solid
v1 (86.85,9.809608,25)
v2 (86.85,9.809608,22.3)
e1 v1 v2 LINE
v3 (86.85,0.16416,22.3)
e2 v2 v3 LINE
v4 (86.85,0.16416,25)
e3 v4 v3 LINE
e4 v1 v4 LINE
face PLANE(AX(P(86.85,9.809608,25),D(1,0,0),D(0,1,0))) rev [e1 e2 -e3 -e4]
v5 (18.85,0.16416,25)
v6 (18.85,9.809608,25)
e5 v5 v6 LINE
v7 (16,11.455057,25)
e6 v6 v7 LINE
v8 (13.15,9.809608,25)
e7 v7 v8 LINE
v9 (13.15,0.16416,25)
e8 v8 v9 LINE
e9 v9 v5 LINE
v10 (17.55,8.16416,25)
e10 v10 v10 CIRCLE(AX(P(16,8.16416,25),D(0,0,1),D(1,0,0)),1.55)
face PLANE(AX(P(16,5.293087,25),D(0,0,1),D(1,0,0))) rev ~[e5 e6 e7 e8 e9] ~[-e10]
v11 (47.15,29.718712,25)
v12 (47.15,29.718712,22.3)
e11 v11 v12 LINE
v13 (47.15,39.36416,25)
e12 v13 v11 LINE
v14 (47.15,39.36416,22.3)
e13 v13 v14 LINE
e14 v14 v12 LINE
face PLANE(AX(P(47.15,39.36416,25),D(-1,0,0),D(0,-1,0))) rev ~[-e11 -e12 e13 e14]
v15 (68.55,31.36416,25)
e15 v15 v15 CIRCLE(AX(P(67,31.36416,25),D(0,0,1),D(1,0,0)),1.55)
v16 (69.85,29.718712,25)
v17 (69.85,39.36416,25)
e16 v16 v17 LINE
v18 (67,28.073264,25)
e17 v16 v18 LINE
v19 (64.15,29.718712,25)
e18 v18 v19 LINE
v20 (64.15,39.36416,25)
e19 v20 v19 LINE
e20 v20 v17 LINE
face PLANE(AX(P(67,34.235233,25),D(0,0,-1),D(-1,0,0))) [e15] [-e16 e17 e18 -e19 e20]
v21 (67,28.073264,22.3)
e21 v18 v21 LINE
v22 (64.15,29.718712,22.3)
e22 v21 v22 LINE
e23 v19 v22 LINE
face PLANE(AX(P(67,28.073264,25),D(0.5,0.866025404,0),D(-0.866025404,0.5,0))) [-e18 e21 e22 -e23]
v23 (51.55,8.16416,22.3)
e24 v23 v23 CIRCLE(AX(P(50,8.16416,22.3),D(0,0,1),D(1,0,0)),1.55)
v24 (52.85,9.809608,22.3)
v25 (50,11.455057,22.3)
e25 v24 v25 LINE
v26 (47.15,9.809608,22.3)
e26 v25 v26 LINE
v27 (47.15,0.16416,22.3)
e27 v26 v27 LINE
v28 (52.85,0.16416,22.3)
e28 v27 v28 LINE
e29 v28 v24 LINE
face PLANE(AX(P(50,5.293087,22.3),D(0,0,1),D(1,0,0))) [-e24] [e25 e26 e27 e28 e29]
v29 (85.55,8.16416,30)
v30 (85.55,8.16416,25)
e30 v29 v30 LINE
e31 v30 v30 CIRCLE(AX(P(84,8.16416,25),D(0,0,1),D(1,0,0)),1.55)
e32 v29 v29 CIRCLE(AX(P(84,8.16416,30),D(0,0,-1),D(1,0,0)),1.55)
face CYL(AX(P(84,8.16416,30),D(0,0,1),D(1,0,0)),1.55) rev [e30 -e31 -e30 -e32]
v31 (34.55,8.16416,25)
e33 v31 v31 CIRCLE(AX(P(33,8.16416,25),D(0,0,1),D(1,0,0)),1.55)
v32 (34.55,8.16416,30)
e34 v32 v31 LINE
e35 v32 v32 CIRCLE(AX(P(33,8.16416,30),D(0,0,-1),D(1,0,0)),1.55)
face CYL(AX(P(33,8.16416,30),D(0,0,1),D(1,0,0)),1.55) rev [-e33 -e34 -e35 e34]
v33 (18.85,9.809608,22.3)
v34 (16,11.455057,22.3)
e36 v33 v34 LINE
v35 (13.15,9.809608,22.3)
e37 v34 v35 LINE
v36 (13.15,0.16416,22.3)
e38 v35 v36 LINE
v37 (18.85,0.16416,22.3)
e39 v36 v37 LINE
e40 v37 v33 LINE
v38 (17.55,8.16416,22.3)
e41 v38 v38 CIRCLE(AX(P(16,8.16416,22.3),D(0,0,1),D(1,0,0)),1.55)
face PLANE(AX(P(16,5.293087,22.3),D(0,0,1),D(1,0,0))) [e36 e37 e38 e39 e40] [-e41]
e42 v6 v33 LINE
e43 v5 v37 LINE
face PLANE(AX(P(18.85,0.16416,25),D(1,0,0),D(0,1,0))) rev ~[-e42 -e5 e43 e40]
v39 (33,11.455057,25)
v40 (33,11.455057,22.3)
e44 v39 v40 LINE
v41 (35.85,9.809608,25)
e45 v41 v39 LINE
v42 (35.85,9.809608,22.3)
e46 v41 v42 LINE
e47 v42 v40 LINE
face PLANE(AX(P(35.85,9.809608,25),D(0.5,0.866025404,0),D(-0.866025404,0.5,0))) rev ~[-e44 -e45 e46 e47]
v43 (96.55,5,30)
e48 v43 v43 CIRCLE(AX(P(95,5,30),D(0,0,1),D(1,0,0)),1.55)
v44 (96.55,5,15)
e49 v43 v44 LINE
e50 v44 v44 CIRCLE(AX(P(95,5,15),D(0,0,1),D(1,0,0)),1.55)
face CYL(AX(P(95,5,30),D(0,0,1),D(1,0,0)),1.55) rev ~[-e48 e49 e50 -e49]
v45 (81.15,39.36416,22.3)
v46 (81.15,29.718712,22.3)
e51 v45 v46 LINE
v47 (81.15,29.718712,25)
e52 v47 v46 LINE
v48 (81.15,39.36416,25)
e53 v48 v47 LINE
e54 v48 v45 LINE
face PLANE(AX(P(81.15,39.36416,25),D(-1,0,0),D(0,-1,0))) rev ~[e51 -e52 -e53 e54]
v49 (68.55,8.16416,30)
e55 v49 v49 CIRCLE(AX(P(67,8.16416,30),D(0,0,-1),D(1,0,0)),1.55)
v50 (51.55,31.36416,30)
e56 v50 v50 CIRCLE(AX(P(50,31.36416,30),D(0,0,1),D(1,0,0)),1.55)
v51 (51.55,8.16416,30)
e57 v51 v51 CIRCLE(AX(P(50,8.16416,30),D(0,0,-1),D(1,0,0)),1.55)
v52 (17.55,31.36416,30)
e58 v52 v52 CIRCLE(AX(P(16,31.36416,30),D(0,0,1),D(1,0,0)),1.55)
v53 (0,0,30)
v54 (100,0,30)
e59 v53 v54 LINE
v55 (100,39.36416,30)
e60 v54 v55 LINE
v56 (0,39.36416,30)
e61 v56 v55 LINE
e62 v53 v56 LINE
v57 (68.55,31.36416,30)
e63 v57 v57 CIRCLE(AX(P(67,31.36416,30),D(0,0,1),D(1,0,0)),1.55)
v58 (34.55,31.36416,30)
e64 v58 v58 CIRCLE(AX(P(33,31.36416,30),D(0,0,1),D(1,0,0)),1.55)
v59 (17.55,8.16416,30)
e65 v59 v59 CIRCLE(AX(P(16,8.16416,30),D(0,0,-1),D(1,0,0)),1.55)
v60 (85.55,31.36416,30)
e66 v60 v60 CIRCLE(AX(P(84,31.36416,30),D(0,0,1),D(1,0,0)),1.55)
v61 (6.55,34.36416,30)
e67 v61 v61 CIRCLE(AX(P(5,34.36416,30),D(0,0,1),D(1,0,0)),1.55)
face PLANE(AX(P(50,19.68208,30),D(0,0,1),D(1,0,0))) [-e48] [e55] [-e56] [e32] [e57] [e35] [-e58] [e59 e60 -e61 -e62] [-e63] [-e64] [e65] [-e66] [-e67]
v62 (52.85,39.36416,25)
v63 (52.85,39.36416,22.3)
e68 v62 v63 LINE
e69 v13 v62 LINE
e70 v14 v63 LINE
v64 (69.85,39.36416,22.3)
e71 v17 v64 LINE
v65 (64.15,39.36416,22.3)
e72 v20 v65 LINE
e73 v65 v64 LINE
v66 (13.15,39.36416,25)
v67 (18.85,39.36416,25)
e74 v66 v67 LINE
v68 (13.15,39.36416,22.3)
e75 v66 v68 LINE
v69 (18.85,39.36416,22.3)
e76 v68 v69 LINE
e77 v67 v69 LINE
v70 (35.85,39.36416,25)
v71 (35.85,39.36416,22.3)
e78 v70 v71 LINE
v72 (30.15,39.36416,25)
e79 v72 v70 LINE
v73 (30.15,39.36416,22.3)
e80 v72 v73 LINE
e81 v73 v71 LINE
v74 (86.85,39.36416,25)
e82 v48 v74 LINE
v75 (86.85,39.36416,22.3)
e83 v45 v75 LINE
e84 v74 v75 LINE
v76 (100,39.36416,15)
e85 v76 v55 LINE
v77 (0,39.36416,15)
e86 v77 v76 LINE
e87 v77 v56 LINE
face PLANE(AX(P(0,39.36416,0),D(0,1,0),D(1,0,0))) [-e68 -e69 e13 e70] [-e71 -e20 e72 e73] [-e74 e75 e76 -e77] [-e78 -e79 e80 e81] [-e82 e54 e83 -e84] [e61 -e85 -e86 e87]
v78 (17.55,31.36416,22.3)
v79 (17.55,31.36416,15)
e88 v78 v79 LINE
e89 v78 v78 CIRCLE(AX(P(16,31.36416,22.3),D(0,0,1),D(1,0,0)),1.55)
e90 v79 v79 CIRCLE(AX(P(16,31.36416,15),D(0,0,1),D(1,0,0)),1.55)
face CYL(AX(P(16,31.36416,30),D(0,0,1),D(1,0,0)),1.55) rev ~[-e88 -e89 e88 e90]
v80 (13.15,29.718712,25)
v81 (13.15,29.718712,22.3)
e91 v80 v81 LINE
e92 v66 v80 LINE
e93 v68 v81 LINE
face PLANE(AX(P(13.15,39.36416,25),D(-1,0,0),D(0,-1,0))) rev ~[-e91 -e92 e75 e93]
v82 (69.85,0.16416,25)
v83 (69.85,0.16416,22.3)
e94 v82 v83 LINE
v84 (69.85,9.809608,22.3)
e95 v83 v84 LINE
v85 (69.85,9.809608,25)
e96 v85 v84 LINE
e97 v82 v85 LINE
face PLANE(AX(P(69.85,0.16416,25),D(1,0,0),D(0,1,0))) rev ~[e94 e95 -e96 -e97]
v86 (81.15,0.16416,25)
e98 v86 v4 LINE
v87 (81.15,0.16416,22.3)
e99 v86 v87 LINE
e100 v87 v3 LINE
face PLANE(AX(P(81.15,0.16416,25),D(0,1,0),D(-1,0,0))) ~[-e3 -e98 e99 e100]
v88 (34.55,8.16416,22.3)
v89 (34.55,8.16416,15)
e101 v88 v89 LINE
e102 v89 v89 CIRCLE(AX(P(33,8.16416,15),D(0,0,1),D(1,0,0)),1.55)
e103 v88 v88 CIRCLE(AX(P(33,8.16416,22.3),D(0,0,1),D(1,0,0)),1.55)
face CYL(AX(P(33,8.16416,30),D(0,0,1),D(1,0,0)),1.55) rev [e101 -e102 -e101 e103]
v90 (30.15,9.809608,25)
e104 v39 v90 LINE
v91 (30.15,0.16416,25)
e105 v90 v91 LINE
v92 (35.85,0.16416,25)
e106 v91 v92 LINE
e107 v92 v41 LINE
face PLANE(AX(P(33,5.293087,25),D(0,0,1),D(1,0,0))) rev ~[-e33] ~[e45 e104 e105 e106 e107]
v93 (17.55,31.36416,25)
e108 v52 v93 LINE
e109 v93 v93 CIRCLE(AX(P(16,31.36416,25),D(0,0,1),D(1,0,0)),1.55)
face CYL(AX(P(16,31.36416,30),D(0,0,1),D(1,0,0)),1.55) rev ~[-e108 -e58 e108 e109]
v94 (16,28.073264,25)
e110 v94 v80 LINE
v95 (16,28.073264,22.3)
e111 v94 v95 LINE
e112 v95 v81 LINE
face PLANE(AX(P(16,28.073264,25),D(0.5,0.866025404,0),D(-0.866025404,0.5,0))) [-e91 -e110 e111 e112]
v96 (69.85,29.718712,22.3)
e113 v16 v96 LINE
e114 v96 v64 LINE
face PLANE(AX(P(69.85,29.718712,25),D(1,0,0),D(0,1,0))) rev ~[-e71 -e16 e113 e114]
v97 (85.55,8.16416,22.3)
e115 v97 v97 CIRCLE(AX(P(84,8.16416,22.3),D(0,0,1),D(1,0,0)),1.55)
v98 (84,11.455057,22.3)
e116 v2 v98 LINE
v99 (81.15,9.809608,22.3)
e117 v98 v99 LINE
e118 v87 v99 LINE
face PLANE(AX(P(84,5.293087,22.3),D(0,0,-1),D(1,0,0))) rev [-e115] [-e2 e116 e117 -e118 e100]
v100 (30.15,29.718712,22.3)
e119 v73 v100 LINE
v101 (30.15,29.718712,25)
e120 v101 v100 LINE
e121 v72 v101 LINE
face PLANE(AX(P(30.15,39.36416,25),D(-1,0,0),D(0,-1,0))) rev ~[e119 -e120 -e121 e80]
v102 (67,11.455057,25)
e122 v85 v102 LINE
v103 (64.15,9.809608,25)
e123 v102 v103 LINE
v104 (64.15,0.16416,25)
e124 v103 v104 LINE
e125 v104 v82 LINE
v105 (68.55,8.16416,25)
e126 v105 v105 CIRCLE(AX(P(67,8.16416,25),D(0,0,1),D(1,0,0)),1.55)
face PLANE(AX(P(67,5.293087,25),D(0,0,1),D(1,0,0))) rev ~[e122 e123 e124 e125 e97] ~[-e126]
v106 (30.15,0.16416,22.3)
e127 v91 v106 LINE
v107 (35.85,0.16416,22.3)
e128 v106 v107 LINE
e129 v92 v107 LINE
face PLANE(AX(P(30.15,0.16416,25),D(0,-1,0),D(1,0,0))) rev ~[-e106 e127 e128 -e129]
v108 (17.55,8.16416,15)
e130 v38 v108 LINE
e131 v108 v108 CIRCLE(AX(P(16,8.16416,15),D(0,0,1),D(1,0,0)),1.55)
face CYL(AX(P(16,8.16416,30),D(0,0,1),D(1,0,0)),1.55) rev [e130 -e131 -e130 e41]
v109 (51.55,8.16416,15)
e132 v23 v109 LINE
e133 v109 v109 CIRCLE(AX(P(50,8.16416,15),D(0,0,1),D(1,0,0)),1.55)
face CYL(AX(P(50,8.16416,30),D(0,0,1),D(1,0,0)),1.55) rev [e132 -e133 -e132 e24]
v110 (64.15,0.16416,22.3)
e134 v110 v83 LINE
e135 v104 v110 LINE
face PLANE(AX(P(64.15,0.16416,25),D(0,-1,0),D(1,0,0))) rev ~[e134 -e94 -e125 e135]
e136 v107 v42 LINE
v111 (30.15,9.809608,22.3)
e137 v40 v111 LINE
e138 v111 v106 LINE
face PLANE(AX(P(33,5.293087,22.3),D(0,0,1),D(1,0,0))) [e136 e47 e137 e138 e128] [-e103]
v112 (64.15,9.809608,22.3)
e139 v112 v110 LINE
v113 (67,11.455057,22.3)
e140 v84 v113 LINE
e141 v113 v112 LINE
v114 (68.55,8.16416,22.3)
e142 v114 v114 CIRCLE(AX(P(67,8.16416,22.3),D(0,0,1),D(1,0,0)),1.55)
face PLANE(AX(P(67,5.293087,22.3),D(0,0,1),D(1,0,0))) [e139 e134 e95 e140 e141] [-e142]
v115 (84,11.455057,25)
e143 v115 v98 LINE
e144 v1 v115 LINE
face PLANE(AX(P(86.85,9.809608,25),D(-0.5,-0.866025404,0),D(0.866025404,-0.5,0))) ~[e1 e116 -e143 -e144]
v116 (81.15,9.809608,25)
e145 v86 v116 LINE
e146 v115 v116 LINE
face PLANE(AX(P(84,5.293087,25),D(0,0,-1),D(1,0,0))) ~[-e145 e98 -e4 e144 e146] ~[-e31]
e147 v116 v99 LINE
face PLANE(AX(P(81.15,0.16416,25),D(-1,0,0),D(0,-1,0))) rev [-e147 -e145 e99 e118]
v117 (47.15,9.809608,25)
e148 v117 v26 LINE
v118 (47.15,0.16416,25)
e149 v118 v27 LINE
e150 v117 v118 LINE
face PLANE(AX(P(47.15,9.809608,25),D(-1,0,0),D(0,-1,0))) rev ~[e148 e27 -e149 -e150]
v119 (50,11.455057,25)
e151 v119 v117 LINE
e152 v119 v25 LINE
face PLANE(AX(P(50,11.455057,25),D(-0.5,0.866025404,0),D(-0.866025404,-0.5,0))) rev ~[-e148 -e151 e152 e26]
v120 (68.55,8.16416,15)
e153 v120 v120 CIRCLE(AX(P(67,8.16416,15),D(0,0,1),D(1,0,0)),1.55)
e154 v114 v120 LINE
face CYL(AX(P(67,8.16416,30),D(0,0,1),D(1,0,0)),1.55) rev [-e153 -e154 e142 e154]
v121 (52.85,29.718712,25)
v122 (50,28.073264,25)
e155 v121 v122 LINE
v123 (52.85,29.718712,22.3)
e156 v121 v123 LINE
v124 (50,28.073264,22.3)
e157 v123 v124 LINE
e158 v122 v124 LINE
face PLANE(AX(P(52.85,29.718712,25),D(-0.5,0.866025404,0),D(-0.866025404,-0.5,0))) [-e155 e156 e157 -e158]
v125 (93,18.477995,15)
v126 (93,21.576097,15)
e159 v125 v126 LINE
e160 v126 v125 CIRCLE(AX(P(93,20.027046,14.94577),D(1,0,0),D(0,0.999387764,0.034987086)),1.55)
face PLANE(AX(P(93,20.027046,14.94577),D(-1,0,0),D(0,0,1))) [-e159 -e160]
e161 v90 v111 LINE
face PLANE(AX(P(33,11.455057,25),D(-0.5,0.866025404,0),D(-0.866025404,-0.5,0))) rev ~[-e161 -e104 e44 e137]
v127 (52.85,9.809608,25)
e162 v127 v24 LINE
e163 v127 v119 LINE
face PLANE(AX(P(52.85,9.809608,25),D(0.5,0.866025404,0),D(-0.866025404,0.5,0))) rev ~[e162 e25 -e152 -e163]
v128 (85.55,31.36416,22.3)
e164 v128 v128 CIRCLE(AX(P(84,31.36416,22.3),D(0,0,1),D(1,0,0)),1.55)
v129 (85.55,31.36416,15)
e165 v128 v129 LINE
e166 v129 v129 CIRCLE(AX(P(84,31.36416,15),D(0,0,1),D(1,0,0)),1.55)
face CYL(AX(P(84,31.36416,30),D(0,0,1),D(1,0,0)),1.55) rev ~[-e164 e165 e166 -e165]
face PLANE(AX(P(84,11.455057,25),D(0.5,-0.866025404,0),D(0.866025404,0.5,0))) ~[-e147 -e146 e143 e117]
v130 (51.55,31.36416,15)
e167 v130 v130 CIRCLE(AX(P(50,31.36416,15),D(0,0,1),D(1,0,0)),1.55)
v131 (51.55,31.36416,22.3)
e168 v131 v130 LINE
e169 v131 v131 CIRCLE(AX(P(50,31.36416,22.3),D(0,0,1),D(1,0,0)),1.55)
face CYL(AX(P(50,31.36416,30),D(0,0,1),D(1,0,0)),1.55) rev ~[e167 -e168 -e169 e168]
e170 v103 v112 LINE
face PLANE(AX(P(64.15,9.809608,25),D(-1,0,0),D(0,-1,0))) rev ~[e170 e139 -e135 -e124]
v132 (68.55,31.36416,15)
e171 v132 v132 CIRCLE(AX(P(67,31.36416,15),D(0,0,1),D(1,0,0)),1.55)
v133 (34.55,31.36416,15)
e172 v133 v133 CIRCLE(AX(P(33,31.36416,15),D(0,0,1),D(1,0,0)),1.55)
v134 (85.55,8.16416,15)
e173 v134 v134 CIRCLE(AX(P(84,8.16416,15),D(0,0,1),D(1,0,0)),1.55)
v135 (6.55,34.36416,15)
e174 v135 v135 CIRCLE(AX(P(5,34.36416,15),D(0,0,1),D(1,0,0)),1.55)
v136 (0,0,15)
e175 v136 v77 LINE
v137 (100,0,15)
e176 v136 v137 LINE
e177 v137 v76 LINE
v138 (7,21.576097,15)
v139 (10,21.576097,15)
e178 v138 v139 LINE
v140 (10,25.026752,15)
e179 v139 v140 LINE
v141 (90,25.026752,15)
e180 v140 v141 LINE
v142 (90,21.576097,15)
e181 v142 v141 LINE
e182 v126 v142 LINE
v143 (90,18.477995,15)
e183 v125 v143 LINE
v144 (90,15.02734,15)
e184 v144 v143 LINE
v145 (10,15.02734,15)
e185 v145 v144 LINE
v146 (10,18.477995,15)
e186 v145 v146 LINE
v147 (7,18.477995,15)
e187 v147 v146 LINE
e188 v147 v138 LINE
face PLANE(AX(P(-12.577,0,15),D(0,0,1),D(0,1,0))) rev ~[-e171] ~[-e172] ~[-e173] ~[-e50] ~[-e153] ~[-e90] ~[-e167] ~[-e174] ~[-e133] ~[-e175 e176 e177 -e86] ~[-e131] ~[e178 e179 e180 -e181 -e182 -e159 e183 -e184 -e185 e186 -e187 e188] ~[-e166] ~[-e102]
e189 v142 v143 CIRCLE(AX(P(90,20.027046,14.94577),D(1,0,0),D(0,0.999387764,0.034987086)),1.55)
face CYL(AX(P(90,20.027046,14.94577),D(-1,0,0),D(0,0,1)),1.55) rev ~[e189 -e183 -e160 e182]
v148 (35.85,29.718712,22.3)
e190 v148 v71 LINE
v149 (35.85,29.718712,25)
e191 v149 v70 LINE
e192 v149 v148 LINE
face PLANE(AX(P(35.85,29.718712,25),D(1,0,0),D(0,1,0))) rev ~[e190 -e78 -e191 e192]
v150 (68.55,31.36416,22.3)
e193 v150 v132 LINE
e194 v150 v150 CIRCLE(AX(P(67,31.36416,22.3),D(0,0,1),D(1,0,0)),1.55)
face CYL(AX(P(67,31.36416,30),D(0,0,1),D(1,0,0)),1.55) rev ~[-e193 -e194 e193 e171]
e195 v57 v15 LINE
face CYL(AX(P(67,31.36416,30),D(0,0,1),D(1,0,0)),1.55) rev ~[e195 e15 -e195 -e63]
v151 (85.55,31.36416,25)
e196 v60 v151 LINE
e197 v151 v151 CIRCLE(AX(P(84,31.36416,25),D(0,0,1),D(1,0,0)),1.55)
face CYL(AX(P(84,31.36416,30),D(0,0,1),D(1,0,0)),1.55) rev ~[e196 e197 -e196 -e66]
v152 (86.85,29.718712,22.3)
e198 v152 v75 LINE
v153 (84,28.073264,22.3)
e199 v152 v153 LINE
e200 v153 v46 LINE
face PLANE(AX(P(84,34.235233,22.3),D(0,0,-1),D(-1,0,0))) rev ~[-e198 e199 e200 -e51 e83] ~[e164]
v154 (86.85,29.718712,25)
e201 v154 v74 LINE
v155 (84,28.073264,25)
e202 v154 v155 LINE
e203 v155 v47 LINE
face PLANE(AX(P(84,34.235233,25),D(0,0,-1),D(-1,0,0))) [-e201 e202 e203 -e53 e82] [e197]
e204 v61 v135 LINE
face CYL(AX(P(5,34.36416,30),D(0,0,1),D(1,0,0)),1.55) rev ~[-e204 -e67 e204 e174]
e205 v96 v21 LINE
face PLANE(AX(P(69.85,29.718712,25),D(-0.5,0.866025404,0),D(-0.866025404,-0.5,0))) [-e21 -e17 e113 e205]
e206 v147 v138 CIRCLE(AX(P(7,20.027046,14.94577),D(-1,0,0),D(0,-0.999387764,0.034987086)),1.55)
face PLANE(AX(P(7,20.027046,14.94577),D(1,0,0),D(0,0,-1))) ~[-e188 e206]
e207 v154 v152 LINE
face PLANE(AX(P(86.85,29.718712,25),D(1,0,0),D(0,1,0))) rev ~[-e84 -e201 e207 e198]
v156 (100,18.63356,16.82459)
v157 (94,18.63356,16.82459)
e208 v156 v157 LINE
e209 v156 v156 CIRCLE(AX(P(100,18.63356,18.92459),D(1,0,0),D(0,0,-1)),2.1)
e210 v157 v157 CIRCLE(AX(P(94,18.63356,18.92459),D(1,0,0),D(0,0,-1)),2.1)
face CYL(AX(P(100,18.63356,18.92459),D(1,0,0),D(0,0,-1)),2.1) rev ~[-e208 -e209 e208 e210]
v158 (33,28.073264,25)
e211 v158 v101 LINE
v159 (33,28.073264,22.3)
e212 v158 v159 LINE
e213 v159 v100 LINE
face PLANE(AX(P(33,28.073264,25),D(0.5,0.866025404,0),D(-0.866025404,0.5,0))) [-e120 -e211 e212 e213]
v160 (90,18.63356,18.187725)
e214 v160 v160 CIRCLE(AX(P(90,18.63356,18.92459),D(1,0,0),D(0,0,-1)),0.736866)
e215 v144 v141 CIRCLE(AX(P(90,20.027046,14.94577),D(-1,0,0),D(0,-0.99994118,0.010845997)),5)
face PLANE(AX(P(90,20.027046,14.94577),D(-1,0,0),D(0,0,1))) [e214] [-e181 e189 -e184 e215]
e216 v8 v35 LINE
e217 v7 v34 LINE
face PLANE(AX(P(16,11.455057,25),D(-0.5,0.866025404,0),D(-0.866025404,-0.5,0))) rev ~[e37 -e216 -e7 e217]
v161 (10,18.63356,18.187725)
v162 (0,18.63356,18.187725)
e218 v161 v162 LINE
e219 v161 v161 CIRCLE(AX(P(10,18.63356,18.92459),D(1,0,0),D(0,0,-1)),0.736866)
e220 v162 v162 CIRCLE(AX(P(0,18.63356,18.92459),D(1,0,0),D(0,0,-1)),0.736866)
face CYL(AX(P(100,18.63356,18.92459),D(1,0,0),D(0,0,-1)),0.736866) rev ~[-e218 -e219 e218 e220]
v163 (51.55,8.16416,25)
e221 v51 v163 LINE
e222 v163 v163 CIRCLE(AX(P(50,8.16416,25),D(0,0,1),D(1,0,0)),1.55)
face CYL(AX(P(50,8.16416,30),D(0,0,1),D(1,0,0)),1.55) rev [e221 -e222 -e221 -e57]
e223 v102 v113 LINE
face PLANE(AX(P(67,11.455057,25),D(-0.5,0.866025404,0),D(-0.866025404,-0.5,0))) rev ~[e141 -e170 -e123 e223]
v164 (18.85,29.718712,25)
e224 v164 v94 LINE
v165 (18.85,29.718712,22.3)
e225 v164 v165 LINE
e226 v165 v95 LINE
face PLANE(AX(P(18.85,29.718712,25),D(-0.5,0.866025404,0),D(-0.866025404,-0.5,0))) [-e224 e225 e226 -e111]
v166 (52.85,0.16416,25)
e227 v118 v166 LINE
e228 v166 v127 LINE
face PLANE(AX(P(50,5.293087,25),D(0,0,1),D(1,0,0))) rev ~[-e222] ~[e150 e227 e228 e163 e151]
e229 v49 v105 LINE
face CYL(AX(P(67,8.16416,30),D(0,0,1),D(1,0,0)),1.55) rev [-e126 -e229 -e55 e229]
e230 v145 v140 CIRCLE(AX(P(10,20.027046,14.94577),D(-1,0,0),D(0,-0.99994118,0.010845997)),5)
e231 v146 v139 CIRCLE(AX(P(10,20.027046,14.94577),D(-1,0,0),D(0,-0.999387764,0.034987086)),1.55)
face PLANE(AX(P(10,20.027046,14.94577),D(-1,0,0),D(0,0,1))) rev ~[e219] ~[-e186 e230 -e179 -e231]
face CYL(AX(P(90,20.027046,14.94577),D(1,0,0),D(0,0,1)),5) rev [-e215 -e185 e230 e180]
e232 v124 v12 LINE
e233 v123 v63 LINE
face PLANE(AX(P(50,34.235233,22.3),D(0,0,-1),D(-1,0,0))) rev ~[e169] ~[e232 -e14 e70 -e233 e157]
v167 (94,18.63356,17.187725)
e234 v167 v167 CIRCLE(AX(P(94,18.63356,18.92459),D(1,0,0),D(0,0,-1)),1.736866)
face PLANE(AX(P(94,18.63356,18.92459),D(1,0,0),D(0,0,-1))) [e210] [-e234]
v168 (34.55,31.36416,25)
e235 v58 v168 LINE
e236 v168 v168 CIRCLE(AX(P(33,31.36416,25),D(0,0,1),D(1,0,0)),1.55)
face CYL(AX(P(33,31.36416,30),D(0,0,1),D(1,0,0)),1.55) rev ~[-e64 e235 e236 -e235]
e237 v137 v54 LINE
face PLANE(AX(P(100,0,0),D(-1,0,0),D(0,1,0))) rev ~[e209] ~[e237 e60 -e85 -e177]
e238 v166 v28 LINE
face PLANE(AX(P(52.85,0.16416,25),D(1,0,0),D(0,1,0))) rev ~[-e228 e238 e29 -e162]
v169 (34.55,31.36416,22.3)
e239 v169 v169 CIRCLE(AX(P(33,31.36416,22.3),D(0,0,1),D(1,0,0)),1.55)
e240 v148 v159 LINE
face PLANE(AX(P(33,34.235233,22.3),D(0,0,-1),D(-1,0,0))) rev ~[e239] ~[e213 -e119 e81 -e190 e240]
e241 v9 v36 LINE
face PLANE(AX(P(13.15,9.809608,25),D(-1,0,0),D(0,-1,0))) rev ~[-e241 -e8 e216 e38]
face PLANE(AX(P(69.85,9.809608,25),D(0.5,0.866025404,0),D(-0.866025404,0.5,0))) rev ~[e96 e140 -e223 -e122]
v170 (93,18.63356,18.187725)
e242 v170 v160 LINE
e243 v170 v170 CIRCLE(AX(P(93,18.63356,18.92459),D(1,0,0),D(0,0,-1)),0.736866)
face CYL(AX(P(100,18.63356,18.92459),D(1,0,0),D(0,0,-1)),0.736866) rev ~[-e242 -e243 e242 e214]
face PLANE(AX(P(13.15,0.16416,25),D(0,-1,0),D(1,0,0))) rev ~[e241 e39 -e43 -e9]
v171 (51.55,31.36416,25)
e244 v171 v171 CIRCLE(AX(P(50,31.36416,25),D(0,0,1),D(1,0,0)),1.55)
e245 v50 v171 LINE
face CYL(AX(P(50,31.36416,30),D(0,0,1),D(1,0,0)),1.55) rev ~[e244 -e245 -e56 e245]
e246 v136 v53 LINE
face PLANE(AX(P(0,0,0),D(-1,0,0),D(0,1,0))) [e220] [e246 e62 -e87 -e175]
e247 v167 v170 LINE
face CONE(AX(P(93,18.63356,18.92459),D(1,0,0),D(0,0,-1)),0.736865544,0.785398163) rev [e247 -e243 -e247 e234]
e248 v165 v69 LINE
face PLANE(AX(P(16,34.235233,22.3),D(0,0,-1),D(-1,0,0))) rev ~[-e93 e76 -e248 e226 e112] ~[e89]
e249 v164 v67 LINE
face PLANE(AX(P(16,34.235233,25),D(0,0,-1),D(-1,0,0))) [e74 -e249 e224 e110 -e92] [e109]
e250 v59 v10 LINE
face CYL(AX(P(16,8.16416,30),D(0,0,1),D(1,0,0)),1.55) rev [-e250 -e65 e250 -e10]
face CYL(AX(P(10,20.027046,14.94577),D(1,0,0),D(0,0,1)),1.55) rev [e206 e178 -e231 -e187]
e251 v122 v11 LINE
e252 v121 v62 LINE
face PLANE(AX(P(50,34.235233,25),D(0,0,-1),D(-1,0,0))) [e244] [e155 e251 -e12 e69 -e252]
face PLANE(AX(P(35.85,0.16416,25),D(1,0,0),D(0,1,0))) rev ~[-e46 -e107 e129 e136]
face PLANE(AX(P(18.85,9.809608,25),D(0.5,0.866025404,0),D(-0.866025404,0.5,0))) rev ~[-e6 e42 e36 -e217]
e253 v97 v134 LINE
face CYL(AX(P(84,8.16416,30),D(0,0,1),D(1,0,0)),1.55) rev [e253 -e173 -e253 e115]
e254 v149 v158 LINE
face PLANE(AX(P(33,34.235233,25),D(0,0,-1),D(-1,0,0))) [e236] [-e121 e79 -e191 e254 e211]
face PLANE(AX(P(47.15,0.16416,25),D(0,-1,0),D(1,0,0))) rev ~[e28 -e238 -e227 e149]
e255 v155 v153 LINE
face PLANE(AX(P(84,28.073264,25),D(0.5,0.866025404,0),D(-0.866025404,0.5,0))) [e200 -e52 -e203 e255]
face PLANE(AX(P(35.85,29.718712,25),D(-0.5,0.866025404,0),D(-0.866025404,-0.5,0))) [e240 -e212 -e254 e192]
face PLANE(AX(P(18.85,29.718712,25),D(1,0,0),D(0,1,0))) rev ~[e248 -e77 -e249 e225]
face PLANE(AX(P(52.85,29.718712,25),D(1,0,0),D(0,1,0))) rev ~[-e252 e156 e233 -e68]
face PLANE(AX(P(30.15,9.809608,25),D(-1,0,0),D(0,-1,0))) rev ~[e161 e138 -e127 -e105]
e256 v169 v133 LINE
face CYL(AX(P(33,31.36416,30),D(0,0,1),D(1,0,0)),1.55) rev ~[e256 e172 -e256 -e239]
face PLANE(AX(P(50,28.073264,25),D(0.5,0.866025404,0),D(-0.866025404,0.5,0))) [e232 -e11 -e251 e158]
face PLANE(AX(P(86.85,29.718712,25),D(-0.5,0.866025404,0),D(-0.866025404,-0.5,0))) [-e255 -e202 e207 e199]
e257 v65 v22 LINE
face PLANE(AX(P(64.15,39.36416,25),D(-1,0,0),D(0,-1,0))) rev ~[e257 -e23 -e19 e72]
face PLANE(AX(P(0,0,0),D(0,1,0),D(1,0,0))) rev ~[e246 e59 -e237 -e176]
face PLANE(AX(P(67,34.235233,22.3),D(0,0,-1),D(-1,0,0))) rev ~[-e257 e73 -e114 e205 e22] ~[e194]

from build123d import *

# Parameters (mm, degrees)
SKIZZE2_W                            = 100
SKIZZE2_H                            = 39.364160046
AUFSATZ_LINEAR_AUSTRAGEN1_DEPTH      = 30
SCHNITT_LINEAR_AUSTRAGEN1_DEPTH      = 40
SCHNITT_LINEAR_AUSTRAGEN1_DEPTH_BACK = 40
SKIZZE10_R                           = 5
SKIZZE17_R                           = 1.55
SCHNITT_LINEAR_AUSTRAGEN2_DEPTH      = 3
SKIZZE24_R                           = 1.55
SCHNITT_LINEAR_AUSTRAGEN4_DEPTH      = 112.577493681
SKIZZE37_R                           = 0.736865544
SCHNITT_LINEAR_AUSTRAGEN9_DEPTH      = 112.577493681
SKIZZE40_R                           = 2.1
SCHNITT_LINEAR_AUSTRAGEN10_DEPTH     = 6
SKIZZE42_R                           = 0.75
SCHNITT_LINEAR_AUSTRAGEN12_DEPTH     = 10
SKIZZE46_R                           = 2.85
SCHNITT_LINEAR_AUSTRAGEN15_DEPTH     = 10
SCHNITT_LINEAR_START                 = -5
SCHNITT_LINEAR_AUSTRAGEN25_DEPTH     = 2.7
LINEARES_MUSTER1_COUNT               = 5
LINEARES_MUSTER1_PITCH               = 17
SPIEGELN2_COPY_1_SKETCH_R            = 2.85
SPIEGELN2_COPY_1_DEPTH               = 10
SPIEGELN2_COPY_2_SKETCH_R            = 2.85
SPIEGELN2_COPY_2_DEPTH               = 10
SPIEGELN2_COPY_3_SKETCH_R            = 2.85
SPIEGELN2_COPY_3_DEPTH               = 10
SPIEGELN2_COPY_4_SKETCH_R            = 2.85
SPIEGELN2_COPY_4_DEPTH               = 10
SPIEGELN2_START                      = -5
SPIEGELN2_COPY_5_DEPTH               = 2.7
SPIEGELN2_COPY_6_DEPTH               = 2.7
SPIEGELN2_COPY_7_DEPTH               = 2.7
SPIEGELN2_COPY_8_DEPTH               = 2.7
SKIZZE51_R                           = 1.55
SCHNITT_LINEAR_AUSTRAGEN26_DEPTH     = 112.577493681
SKIZZE55_R                           = 0.5
SCHNITT_LINEAR_AUSTRAGEN28_DEPTH     = 112.577493681
SKIZZE59_R                           = 2.05
SCHNITT_LINEAR_AUSTRAGEN30_DEPTH     = 5
FASE1_SIZE                           = 1
FASE2_SIZE                           = 1
ABSPALTEN3_SURFACE_1_BACK            = 112.577
ABSPALTEN3_SURFACE_1_DEPTH           = 225.154


with BuildPart() as part:
    # Skizze2 → Aufsatz-Linear austragen1 (new body)
    with BuildSketch(Plane.XY):
        with Locations((50, 19.682080023)):
            Rectangle(SKIZZE2_W, SKIZZE2_H)
    extrude(amount=AUFSATZ_LINEAR_AUSTRAGEN1_DEPTH)

    # Skizze10 → Schnitt-Linear austragen1 (cut, two sides: drawn at the far end of the back side and taken through both)
    with BuildSketch(Plane.ZY.offset(-50).offset(-SCHNITT_LINEAR_AUSTRAGEN1_DEPTH_BACK)):
        with Locations((14.945770016, 20.027045739)):
            Circle(SKIZZE10_R)
    extrude(amount=SCHNITT_LINEAR_AUSTRAGEN1_DEPTH + SCHNITT_LINEAR_AUSTRAGEN1_DEPTH_BACK, mode=Mode.SUBTRACT)

    # Skizze17 → Schnitt-Linear austragen2 (cut)
    with BuildSketch(Plane.ZY.offset(-90)):
        with Locations((14.945770016, 20.027045739)):
            Circle(SKIZZE17_R)
    schnitt_linear_austragen2 = extrude(amount=-SCHNITT_LINEAR_AUSTRAGEN2_DEPTH, mode=Mode.SUBTRACT)

    # Spiegeln1: Schnitt-Linear austragen2 across plane
    add(schnitt_linear_austragen2.mirror(Plane.ZY.offset(-50)), mode=Mode.SUBTRACT)

    # Skizze24 → Schnitt-Linear austragen4 (cut, through all)
    with BuildSketch(Plane.XY.offset(30)):
        with Locations((16, 31.364160046)):
            Circle(SKIZZE24_R)
        with Locations((33, 31.364160046)):
            Circle(SKIZZE24_R)
        with Locations((50, 31.364160046)):
            Circle(SKIZZE24_R)
        with Locations((67, 31.364160046)):
            Circle(SKIZZE24_R)
        with Locations((84, 31.364160046)):
            Circle(SKIZZE24_R)
    schnitt_linear_austragen4 = extrude(amount=-SCHNITT_LINEAR_AUSTRAGEN4_DEPTH, mode=Mode.SUBTRACT)

    # Skizze37 → Schnitt-Linear austragen9 (cut, through all)
    with BuildSketch(Plane(origin=(100, 0, 0), x_dir=(0, 0, -1), z_dir=(1, 0, 0))):
        with Locations((-18.924590299, 18.633559666)):
            Circle(SKIZZE37_R)
    extrude(amount=-SCHNITT_LINEAR_AUSTRAGEN9_DEPTH, mode=Mode.SUBTRACT)

    # Skizze40 → Schnitt-Linear austragen10 (cut)
    with BuildSketch(Plane(origin=(100, 0, 0), x_dir=(0, 0, -1), z_dir=(1, 0, 0))):
        with Locations((-18.924590299, 18.633559666)):
            Circle(SKIZZE40_R)
    extrude(amount=-SCHNITT_LINEAR_AUSTRAGEN10_DEPTH, mode=Mode.SUBTRACT)

    # Skizze42 → Schnitt-Linear austragen12 (cut)
    with BuildSketch(Plane.ZY):
        with Locations((10.86415918, 18.842582577)):
            Circle(SKIZZE42_R)
    extrude(amount=-SCHNITT_LINEAR_AUSTRAGEN12_DEPTH, mode=Mode.SUBTRACT)

    # Skizze46 → Schnitt-Linear austragen15 (cut)
    with BuildSketch(Plane(origin=(0, 0, 0), x_dir=(-1, 0, 0), z_dir=(0, 0, -1))):
        with Locations((-84, 31.364160046)):
            Circle(SKIZZE46_R)
    schnitt_linear_austragen15 = extrude(amount=-SCHNITT_LINEAR_AUSTRAGEN15_DEPTH, mode=Mode.SUBTRACT)

    # Skizze50 → Schnitt-Linear austragen25 (cut)
    with BuildSketch(Plane.XY.offset(30).offset(SCHNITT_LINEAR_START)):
        Polygon((81.15, 33.009608314), (81.15, 39.364160046), (86.85, 39.364160046), (86.85, 33.009608314), (86.85, 29.718711779), (84, 28.073263512), (81.15, 29.718711779), align=None)
    schnitt_linear_austragen25 = extrude(amount=-SCHNITT_LINEAR_AUSTRAGEN25_DEPTH, mode=Mode.SUBTRACT)

    # Lineares Muster1: Schnitt-Linear austragen15, Schnitt-Linear austragen25 ×5
    with Locations(*[(-i * LINEARES_MUSTER1_PITCH, 0, 0) for i in range(1, LINEARES_MUSTER1_COUNT)]):
        add(schnitt_linear_austragen15, mode=Mode.SUBTRACT)
        add(schnitt_linear_austragen25, mode=Mode.SUBTRACT)

    # Spiegeln2: Schnitt-Linear austragen15, Schnitt-Linear austragen25 across plane
    add(schnitt_linear_austragen15.mirror(Plane.ZX.offset(19.764160046)), mode=Mode.SUBTRACT)
    add(schnitt_linear_austragen25.mirror(Plane.ZX.offset(19.764160046)), mode=Mode.SUBTRACT)

    # Spiegeln2 copy 1 sketch → Spiegeln2 copy 1 (cut)
    with BuildSketch(Plane(origin=(-17, 39.528320093, 0), x_dir=(-1, 0, 0), z_dir=(0, 0, -1))):
        with Locations((-84, -31.364160046)):
            Circle(SPIEGELN2_COPY_1_SKETCH_R)
    extrude(amount=-SPIEGELN2_COPY_1_DEPTH, mode=Mode.SUBTRACT)

    # Spiegeln2 copy 2 sketch → Spiegeln2 copy 2 (cut)
    with BuildSketch(Plane(origin=(-34, 39.528320093, 0), x_dir=(-1, 0, 0), z_dir=(0, 0, -1))):
        with Locations((-84, -31.364160046)):
            Circle(SPIEGELN2_COPY_2_SKETCH_R)
    extrude(amount=-SPIEGELN2_COPY_2_DEPTH, mode=Mode.SUBTRACT)

    # Spiegeln2 copy 3 sketch → Spiegeln2 copy 3 (cut)
    with BuildSketch(Plane(origin=(-51, 39.528320093, 0), x_dir=(-1, 0, 0), z_dir=(0, 0, -1))):
        with Locations((-84, -31.364160046)):
            Circle(SPIEGELN2_COPY_3_SKETCH_R)
    extrude(amount=-SPIEGELN2_COPY_3_DEPTH, mode=Mode.SUBTRACT)

    # Spiegeln2 copy 4 sketch → Spiegeln2 copy 4 (cut)
    with BuildSketch(Plane(origin=(-68, 39.528320093, 0), x_dir=(-1, 0, 0), z_dir=(0, 0, -1))):
        with Locations((-84, -31.364160046)):
            Circle(SPIEGELN2_COPY_4_SKETCH_R)
    extrude(amount=-SPIEGELN2_COPY_4_DEPTH, mode=Mode.SUBTRACT)

    # Spiegeln2 copy 5 sketch → Spiegeln2 copy 5 (cut)
    with BuildSketch(Plane(origin=(-17, 39.528320093, 30), x_dir=(1, 0, 0), z_dir=(0, 0, 1)).offset(SPIEGELN2_START)):
        Polygon((81.15, -33.009608314), (81.15, -39.364160046), (86.85, -39.364160046), (86.85, -33.009608314), (86.85, -29.718711779), (84, -28.073263512), (81.15, -29.718711779), align=None)
    extrude(amount=-SPIEGELN2_COPY_5_DEPTH, mode=Mode.SUBTRACT)

    # Spiegeln2 copy 6 sketch → Spiegeln2 copy 6 (cut)
    with BuildSketch(Plane(origin=(-34, 39.528320093, 30), x_dir=(1, 0, 0), z_dir=(0, 0, 1)).offset(SPIEGELN2_START)):
        Polygon((81.15, -33.009608314), (81.15, -39.364160046), (86.85, -39.364160046), (86.85, -33.009608314), (86.85, -29.718711779), (84, -28.073263512), (81.15, -29.718711779), align=None)
    extrude(amount=-SPIEGELN2_COPY_6_DEPTH, mode=Mode.SUBTRACT)

    # Spiegeln2 copy 7 sketch → Spiegeln2 copy 7 (cut)
    with BuildSketch(Plane(origin=(-51, 39.528320093, 30), x_dir=(1, 0, 0), z_dir=(0, 0, 1)).offset(SPIEGELN2_START)):
        Polygon((81.15, -33.009608314), (81.15, -39.364160046), (86.85, -39.364160046), (86.85, -33.009608314), (86.85, -29.718711779), (84, -28.073263512), (81.15, -29.718711779), align=None)
    extrude(amount=-SPIEGELN2_COPY_7_DEPTH, mode=Mode.SUBTRACT)

    # Spiegeln2 copy 8 sketch → Spiegeln2 copy 8 (cut)
    with BuildSketch(Plane(origin=(-68, 39.528320093, 30), x_dir=(1, 0, 0), z_dir=(0, 0, 1)).offset(SPIEGELN2_START)):
        Polygon((81.15, -33.009608314), (81.15, -39.364160046), (86.85, -39.364160046), (86.85, -33.009608314), (86.85, -29.718711779), (84, -28.073263512), (81.15, -29.718711779), align=None)
    extrude(amount=-SPIEGELN2_COPY_8_DEPTH, mode=Mode.SUBTRACT)

    # Spiegeln3: Schnitt-Linear austragen4 across plane
    add(schnitt_linear_austragen4.mirror(Plane.ZX.offset(19.764160046)), mode=Mode.SUBTRACT)

    # Skizze51 → Schnitt-Linear austragen26 (cut, through all)
    with BuildSketch(Plane.XY.offset(30)):
        with Locations((5, 34.364160046)):
            Circle(SKIZZE51_R)
        with Locations((95, 5)):
            Circle(SKIZZE51_R)
    extrude(amount=-SCHNITT_LINEAR_AUSTRAGEN26_DEPTH, mode=Mode.SUBTRACT)

    # Skizze55 → Schnitt-Linear austragen28 (cut, through all)
    with BuildSketch(Plane(origin=(100, 0, 0), x_dir=(0, 0, -1), z_dir=(1, 0, 0))):
        with Locations((-12.633679338, 21.083160509)):
            Circle(SKIZZE55_R)
    extrude(amount=-SCHNITT_LINEAR_AUSTRAGEN28_DEPTH, mode=Mode.SUBTRACT)

    # Skizze59 → Schnitt-Linear austragen30 (cut)
    with BuildSketch(Plane(origin=(100, 0, 0), x_dir=(0, 0, -1), z_dir=(1, 0, 0))):
        with Locations((-12.633679338, 21.083160509)):
            Circle(SKIZZE59_R)
    extrude(amount=-SCHNITT_LINEAR_AUSTRAGEN30_DEPTH, mode=Mode.SUBTRACT)

    # Fase1
    fase1_edges = [part.edges().sort_by_distance(p)[0] for p in [
        (94, 18.633559666, 19.661455843),
    ]]
    chamfer(fase1_edges, length=FASE1_SIZE)

    # Fase2
    fase2_edges = [part.edges().sort_by_distance(p)[0] for p in [
        (95, 21.083160509, 13.133679338),
    ]]
    chamfer(fase2_edges, length=FASE2_SIZE)

    # Abspalten3: cut with a surface, the side it looks to stays
    # Abspalten3 surface: a surface, the sketch's curves swept straight by 225.154 mm
    with BuildLine(Plane(origin=(100, 0, 0), x_dir=(0, 0, -1), z_dir=(1, 0, 0)).offset(-ABSPALTEN3_SURFACE_1_BACK), mode=Mode.PRIVATE) as abspalten3_surface_1_path:
        Line((-15, 39.364160046), (0, 39.364160046))
        Line((0, 39.364160046), (0, 0))
        Line((0, 0), (-15, 0))
        Line((-15, 0), (-15, 39.364160046))
    abspalten3_surface_1 = Shell.extrude(abspalten3_surface_1_path.wire(), (1 * ABSPALTEN3_SURFACE_1_DEPTH, 0 * ABSPALTEN3_SURFACE_1_DEPTH, 0 * ABSPALTEN3_SURFACE_1_DEPTH))
    split(bisect_by=abspalten3_surface_1, keep=Keep.TOP)


solid = part.part
